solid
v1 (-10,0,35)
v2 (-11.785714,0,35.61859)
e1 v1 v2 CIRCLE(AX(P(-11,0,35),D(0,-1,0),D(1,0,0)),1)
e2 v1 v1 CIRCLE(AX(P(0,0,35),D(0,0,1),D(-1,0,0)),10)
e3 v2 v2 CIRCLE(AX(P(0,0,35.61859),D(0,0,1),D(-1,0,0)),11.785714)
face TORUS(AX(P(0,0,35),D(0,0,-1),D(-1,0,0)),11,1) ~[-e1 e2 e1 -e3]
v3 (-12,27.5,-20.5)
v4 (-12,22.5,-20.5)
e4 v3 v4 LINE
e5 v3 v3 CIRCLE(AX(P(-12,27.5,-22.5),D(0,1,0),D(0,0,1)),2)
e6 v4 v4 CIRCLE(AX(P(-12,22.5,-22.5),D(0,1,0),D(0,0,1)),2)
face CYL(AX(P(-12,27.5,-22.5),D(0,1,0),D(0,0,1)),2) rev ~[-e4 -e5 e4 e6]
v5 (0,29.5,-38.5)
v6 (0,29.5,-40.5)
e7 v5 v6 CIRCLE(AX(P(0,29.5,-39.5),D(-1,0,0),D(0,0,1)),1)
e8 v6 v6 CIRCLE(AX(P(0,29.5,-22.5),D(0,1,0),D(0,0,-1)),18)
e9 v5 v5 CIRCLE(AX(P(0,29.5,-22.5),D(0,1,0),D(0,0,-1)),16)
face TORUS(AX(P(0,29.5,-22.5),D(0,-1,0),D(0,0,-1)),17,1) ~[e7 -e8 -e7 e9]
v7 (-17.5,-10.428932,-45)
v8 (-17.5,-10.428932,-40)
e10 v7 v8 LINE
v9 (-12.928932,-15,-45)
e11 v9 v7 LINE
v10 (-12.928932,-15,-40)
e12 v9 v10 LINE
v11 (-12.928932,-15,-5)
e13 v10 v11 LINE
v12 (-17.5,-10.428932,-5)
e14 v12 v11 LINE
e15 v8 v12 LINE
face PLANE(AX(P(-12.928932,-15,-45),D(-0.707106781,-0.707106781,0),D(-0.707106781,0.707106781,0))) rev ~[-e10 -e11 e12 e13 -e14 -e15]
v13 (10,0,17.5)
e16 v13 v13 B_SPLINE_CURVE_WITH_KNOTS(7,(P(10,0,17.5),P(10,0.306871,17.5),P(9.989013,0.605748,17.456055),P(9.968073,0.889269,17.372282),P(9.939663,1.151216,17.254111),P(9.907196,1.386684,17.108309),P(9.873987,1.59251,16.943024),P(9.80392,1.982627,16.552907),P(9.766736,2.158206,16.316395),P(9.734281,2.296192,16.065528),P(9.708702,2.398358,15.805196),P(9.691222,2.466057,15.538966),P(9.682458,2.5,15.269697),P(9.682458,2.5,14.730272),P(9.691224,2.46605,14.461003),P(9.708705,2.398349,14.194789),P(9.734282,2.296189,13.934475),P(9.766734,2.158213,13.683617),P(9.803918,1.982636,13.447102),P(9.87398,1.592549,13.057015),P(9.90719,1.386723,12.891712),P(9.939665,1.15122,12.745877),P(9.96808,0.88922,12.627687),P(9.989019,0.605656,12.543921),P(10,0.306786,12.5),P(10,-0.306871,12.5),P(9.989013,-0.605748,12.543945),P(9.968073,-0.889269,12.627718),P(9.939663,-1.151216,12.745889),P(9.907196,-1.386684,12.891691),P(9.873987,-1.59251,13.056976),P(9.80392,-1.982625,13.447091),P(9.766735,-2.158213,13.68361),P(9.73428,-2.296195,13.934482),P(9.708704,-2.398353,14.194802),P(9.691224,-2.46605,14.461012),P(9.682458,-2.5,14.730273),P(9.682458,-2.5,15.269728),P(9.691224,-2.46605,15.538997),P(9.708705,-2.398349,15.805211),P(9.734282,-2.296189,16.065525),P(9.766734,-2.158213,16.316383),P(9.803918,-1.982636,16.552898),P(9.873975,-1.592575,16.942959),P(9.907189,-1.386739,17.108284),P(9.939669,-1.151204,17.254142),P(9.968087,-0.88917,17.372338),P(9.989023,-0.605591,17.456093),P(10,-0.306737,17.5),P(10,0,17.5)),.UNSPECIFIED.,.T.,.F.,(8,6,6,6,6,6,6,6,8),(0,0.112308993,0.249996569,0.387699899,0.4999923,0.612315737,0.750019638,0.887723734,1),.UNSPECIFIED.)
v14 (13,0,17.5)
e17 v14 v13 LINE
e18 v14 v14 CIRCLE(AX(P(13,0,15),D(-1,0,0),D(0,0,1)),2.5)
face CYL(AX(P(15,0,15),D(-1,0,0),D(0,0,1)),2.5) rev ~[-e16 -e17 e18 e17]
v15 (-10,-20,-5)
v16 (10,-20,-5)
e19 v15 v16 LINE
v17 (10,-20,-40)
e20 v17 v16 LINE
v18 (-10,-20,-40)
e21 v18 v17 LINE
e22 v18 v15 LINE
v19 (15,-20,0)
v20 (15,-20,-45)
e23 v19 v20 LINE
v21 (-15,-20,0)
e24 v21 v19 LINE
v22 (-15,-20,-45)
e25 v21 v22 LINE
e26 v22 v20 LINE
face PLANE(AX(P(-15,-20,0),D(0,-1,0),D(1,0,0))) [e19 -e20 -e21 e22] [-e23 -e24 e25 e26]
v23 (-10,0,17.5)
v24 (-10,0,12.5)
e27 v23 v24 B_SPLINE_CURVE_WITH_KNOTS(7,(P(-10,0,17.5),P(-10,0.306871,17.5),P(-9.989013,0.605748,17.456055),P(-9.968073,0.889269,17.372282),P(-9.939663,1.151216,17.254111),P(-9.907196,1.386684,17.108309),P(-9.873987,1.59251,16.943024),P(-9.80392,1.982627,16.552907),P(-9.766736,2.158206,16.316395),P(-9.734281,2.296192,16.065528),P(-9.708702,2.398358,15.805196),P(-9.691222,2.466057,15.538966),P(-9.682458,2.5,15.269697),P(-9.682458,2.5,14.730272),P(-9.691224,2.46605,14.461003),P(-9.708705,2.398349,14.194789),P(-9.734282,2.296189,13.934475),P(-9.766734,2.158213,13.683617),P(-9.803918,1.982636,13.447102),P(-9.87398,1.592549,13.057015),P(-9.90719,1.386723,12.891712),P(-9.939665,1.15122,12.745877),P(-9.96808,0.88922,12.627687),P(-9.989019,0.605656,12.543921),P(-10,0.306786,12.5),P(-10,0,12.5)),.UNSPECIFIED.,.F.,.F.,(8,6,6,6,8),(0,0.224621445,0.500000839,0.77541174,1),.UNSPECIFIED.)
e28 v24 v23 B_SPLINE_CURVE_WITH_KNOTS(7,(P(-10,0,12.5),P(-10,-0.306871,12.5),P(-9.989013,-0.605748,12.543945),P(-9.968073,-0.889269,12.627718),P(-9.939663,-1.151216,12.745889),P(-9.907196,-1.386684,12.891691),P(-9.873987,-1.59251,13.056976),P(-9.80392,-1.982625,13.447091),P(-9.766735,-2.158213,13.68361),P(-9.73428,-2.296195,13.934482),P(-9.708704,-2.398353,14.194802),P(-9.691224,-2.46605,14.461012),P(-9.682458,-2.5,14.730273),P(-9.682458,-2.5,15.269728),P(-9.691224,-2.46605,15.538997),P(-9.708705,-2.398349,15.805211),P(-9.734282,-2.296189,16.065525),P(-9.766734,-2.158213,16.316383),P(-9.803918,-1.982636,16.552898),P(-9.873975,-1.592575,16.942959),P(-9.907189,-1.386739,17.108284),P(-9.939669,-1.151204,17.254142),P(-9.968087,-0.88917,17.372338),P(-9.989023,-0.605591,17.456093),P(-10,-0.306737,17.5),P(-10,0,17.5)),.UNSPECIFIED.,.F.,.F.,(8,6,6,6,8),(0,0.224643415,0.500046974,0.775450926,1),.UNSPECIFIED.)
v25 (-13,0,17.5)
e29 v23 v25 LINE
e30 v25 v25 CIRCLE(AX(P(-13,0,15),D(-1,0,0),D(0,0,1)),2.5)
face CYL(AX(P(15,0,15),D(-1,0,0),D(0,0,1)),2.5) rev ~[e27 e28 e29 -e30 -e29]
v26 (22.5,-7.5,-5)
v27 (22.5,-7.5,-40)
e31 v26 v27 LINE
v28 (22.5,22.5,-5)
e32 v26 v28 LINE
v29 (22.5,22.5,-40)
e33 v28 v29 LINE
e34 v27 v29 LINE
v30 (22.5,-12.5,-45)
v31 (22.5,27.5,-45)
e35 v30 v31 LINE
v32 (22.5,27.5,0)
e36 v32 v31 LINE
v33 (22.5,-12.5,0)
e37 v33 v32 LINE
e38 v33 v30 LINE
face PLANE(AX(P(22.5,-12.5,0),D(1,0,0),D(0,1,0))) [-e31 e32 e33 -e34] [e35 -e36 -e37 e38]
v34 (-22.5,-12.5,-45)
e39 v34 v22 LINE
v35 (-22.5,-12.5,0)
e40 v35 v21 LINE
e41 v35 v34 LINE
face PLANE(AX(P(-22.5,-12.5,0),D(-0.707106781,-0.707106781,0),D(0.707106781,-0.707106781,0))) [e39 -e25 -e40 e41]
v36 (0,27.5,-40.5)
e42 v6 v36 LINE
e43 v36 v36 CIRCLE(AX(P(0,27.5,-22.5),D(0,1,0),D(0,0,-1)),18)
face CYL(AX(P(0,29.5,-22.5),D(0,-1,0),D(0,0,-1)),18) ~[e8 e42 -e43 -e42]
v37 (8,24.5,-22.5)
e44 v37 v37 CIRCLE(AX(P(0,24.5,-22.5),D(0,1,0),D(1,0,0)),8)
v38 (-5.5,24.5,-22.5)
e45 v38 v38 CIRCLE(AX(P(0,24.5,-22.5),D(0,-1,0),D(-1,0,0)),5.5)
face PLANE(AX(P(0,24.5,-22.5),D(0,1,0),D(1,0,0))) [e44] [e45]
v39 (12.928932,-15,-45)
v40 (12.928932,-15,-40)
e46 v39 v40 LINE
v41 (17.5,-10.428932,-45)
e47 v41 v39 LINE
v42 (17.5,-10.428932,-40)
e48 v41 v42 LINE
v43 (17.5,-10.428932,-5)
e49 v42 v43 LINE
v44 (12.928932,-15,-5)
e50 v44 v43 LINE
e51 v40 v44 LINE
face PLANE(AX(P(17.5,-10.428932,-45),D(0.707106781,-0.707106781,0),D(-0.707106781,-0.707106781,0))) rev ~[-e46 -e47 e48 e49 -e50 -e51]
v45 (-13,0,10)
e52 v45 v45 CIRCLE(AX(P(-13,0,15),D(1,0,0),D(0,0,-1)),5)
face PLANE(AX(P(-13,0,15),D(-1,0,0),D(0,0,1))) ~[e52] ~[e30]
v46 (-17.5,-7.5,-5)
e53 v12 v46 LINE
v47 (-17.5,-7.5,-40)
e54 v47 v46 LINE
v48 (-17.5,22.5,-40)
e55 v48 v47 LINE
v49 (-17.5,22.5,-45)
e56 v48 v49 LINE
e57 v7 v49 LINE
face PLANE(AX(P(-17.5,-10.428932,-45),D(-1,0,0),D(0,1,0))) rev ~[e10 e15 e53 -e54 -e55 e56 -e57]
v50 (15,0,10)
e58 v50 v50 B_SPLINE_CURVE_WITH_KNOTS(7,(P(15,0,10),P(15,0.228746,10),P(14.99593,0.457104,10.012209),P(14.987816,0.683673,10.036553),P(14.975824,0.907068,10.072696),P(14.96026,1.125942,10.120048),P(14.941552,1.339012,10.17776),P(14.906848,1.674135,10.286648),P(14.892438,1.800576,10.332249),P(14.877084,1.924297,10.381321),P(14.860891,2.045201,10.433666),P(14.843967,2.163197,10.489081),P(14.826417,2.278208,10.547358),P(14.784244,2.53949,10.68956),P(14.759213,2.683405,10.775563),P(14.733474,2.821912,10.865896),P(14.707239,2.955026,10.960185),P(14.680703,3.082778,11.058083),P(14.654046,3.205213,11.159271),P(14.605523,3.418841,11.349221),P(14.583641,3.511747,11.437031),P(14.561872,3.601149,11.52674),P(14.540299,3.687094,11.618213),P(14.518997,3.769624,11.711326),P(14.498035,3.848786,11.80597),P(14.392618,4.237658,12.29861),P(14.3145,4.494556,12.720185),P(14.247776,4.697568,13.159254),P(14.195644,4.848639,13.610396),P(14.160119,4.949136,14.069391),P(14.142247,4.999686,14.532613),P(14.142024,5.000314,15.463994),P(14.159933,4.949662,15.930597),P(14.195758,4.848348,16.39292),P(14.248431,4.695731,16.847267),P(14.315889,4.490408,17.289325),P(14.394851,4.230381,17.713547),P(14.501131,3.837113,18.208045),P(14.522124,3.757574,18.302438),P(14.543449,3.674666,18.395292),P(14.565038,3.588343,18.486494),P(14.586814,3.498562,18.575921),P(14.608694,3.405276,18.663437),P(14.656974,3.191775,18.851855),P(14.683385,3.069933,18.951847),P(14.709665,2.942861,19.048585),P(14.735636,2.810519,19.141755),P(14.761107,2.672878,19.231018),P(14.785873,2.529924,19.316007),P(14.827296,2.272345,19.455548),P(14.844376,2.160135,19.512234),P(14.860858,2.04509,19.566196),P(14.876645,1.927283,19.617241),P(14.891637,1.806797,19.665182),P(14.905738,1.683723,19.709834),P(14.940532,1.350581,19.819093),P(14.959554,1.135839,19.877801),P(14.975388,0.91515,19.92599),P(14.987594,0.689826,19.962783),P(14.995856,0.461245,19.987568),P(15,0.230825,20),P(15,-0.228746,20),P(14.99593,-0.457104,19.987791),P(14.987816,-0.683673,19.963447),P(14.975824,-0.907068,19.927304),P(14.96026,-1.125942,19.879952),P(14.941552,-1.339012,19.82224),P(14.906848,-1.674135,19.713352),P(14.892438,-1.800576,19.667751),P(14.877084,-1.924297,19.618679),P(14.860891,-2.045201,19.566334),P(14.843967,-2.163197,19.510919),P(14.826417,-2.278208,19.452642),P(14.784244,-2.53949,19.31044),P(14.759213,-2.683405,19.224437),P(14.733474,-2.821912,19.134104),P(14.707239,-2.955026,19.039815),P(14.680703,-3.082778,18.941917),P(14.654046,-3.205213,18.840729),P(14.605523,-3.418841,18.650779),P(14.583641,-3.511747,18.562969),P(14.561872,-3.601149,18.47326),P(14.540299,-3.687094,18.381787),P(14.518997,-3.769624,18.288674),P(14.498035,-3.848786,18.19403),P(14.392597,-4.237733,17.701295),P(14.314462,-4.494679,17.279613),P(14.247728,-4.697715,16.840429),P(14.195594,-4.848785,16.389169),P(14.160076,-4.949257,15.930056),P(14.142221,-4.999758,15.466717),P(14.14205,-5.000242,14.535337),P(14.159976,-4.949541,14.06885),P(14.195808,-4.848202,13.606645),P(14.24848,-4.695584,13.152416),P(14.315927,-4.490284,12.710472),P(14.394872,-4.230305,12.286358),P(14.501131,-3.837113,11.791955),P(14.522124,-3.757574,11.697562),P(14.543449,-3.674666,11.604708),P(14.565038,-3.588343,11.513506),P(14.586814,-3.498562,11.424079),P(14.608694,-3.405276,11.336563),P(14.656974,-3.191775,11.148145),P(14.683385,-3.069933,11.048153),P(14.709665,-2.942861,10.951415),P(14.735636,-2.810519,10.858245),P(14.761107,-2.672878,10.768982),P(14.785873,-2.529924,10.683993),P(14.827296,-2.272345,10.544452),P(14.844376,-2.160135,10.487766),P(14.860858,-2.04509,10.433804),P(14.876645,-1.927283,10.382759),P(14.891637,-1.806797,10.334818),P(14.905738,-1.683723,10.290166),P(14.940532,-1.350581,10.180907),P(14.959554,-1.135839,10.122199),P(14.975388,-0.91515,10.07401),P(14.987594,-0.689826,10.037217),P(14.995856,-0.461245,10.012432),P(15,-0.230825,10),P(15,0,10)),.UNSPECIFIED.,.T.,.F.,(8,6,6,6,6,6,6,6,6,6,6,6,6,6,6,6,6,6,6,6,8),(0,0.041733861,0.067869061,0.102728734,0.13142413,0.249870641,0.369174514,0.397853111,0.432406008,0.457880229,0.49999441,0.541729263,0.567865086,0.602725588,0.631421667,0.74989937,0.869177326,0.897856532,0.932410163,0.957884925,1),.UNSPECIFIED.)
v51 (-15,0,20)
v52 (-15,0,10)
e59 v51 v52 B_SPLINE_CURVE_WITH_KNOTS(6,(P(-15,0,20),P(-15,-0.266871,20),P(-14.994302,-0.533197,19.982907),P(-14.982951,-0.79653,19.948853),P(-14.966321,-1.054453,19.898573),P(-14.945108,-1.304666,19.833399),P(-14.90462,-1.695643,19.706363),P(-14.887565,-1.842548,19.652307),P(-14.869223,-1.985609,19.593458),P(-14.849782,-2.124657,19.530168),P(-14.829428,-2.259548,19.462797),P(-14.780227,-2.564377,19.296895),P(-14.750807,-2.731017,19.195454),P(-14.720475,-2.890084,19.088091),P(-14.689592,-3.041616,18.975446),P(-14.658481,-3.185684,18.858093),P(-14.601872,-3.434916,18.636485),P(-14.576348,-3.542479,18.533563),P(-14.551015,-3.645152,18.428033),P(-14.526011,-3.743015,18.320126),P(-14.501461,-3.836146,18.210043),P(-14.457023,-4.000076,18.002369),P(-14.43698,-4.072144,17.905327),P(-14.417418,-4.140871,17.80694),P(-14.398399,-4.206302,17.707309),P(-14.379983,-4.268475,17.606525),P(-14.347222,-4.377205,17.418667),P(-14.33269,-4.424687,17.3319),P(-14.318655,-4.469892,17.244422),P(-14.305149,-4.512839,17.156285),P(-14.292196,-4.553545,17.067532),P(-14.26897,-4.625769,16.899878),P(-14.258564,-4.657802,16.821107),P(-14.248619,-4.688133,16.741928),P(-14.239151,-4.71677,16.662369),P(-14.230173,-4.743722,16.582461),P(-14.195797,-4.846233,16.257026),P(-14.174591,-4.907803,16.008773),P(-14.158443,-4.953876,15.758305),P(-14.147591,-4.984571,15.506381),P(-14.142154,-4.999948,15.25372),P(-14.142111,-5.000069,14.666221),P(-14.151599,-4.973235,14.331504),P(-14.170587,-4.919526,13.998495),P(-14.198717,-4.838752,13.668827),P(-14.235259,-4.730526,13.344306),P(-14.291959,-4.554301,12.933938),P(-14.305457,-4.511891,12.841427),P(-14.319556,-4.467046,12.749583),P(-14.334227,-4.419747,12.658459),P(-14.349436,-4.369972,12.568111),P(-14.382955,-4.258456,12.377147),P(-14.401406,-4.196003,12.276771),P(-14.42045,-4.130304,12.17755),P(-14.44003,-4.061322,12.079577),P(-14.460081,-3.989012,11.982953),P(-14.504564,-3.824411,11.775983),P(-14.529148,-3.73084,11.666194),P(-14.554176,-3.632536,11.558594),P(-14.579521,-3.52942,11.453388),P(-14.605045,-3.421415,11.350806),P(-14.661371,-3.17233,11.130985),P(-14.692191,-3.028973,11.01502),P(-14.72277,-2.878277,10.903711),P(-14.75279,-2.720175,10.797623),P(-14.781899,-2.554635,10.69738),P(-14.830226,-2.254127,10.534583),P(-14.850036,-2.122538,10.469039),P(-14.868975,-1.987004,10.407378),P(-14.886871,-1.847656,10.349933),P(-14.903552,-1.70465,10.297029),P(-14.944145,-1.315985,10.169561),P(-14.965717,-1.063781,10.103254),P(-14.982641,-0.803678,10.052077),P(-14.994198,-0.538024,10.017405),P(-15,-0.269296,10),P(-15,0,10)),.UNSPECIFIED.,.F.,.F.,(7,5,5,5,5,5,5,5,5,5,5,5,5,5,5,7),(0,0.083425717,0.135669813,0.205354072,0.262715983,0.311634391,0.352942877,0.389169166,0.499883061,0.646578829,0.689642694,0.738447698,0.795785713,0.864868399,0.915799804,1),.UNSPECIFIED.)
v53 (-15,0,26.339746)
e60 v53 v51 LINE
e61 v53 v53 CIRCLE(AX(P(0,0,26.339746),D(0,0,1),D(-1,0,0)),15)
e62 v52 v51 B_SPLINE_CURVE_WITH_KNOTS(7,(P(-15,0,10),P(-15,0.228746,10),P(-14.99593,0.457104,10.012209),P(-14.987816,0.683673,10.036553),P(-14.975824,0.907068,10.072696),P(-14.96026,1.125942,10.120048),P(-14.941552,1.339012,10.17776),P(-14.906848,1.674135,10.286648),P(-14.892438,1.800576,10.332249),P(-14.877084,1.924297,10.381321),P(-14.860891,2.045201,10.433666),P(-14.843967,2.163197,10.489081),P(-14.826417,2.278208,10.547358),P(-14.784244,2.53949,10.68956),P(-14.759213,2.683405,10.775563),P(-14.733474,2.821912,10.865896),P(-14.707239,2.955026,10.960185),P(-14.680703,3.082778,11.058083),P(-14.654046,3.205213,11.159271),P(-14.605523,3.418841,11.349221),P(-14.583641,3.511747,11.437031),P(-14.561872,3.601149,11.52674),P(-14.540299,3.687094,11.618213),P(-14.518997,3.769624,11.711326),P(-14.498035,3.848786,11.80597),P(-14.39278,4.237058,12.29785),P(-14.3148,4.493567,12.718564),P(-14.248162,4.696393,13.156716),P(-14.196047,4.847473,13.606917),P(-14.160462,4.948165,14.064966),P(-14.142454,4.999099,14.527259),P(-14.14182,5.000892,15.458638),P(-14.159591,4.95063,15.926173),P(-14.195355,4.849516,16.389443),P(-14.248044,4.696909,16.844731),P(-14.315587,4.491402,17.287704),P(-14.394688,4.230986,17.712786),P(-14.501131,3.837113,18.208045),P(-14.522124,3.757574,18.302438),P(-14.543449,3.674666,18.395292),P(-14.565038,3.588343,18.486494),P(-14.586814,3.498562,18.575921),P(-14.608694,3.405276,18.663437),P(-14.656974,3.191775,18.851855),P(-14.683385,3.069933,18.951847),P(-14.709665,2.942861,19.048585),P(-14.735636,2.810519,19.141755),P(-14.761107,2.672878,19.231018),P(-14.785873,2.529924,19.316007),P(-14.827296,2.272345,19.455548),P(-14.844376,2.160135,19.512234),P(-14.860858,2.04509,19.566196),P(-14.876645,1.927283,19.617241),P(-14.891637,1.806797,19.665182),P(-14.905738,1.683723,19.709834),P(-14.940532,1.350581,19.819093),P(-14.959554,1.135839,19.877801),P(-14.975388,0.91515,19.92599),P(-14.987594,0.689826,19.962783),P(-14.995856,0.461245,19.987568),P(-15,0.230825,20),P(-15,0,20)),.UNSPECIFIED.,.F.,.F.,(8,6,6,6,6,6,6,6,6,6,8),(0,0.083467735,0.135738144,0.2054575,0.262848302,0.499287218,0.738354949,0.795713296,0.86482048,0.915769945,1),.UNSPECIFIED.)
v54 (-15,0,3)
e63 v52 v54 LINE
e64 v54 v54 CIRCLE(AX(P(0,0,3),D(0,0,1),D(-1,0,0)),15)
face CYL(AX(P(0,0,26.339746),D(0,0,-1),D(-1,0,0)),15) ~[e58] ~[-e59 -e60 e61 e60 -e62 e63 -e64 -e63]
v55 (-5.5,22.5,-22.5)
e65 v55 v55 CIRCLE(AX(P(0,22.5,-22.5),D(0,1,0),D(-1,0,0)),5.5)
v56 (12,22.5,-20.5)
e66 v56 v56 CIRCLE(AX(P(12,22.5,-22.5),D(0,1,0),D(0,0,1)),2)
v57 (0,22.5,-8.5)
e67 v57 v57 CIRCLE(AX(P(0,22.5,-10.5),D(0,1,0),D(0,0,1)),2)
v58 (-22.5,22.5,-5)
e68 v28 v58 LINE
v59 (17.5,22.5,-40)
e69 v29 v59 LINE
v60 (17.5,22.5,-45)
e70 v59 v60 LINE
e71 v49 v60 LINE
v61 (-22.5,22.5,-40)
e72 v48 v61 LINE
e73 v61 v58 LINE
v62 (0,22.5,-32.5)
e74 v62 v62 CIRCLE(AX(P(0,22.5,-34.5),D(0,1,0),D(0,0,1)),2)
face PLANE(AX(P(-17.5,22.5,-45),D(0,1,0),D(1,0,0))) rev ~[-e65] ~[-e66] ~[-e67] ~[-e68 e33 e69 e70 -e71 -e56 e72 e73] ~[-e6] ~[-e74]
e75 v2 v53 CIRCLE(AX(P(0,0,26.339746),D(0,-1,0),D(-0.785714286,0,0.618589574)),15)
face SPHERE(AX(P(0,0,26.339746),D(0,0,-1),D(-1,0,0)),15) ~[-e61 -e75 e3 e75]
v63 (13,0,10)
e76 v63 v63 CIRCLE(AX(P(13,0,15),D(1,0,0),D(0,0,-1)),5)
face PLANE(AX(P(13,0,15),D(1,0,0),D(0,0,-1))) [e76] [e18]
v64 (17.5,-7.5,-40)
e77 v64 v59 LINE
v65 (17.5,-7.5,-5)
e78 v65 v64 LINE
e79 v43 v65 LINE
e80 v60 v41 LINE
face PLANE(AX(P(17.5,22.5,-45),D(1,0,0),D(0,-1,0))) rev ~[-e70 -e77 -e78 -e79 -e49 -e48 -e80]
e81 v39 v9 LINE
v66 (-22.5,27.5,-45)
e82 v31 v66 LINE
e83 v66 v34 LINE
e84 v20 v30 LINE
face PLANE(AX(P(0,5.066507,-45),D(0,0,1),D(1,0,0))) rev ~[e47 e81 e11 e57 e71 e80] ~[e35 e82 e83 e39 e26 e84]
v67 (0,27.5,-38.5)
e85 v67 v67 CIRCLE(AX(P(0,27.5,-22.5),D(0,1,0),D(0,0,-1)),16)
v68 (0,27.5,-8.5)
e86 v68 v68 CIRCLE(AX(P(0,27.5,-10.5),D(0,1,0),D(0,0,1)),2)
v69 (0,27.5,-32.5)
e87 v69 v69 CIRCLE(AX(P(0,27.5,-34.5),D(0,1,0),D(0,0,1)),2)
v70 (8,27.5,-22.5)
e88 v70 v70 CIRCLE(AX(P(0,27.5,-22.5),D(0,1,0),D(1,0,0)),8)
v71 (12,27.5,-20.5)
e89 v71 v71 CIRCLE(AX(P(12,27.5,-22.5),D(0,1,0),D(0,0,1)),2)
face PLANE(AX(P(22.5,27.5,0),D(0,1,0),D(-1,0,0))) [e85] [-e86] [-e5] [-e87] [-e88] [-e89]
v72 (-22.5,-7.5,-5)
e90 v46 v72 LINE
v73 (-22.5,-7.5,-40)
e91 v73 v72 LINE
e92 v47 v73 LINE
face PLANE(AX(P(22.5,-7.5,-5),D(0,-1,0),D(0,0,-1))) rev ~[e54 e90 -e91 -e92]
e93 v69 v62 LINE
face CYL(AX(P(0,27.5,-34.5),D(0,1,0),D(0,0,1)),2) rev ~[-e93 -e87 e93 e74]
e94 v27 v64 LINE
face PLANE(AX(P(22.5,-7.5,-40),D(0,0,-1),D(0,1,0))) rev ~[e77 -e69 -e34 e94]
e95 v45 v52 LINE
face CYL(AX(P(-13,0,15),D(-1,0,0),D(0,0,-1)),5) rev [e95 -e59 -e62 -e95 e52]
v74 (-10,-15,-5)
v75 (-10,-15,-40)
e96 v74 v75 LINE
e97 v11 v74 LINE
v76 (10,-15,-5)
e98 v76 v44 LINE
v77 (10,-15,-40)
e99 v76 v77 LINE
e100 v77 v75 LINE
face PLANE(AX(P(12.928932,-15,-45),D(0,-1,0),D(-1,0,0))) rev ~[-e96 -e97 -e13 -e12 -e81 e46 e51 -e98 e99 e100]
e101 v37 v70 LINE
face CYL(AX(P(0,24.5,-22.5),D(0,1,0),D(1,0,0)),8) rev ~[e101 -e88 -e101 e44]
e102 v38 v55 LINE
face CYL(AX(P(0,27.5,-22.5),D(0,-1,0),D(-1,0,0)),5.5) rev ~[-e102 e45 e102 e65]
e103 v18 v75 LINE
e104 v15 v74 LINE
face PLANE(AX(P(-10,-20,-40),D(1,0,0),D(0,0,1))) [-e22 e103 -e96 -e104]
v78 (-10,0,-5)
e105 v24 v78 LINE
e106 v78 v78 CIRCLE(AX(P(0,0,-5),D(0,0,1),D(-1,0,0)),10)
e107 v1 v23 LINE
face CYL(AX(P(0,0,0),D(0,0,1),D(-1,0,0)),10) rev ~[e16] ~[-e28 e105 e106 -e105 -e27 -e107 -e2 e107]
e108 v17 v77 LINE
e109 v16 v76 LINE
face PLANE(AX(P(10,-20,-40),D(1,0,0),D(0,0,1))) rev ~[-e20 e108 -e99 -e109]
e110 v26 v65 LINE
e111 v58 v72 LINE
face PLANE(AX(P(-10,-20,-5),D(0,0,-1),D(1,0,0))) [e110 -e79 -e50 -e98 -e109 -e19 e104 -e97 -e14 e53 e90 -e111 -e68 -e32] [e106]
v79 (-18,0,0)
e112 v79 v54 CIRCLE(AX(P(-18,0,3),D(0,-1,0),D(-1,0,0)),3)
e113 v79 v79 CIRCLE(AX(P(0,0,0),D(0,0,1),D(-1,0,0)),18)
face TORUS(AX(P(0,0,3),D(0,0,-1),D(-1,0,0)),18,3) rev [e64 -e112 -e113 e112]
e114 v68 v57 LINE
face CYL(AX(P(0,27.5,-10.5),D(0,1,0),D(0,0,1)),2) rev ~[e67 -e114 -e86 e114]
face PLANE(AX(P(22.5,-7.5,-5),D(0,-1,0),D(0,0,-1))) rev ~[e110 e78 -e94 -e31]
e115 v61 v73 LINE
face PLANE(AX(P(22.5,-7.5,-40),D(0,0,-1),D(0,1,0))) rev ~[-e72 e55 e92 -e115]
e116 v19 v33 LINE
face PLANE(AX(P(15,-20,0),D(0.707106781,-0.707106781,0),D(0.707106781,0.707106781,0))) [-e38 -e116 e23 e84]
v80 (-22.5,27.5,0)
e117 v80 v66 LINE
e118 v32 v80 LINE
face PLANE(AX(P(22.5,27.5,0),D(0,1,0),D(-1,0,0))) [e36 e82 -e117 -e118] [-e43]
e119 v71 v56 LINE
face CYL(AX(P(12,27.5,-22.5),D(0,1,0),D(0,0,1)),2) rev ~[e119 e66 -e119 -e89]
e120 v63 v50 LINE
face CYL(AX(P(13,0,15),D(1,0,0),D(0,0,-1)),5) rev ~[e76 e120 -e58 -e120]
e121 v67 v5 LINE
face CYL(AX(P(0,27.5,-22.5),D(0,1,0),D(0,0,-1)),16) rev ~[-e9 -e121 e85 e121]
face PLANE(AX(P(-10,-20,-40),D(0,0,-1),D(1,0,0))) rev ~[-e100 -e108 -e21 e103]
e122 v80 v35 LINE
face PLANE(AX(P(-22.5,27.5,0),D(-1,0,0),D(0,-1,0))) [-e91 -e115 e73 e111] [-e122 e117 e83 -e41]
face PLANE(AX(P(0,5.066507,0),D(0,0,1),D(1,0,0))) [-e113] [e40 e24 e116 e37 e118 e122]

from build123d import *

# Parameters (mm, degrees)
BOSS_EXTRUDE2_DEPTH                      = 45
SHELL1_T                                 = 5
CUT_EXTRUDE1_REACH                       = 47
SKETCH7_W                                = 35
SKETCH7_H                                = 30
CUT_EXTRUDE2_DEPTH                       = 46
CUT_EXTRUDE5_REACH                       = 49.5
SKETCH9_W                                = 20
SKETCH9_H                                = 35
CBORE_FOR_M16_HEX_HEAD_BOLT1_D           = 11
CBORE_FOR_M16_HEX_HEAD_BOLT1_DEPTH       = 5
CBORE_FOR_M16_HEX_HEAD_BOLT1_CBORE_D     = 16
CBORE_FOR_M16_HEX_HEAD_BOLT1_CBORE_DEPTH = 3
CBORE_FOR_M16_HEX_HEAD_BOLT1_TIP         = 3.304733405
CUT_EXTRUDE6_REACH                       = 49.5
SKETCH11_R                               = 2
FILLET1_R                                = 3
CUT_EXTRUDE10_REACH                      = 47
SKETCH15_R                               = 10
CBORE_FOR_M5_HEX_HEAD_BOLT1_D            = 5
CBORE_FOR_M5_HEX_HEAD_BOLT1_CBORE_D      = 10
CBORE_FOR_M5_HEX_HEAD_BOLT1_CBORE_DEPTH  = 2


with BuildPart() as part:
    # Sketch5 → Boss-Extrude2 (new body)
    with BuildSketch(Plane.XY):
        Polygon((-15, -20), (15, -20), (22.5, -12.5), (22.5, 27.5), (-22.5, 27.5), (-22.5, -12.5), align=None)
    extrude(amount=-BOSS_EXTRUDE2_DEPTH)

    # Shell1 (no face opened: a closed hollow body)
    add(offset(amount=-SHELL1_T, mode=Mode.PRIVATE), mode=Mode.SUBTRACT)

    # Sketch6 → Cut-Extrude1 (cut, up to next)
    with BuildSketch(Plane(origin=(0, 0, -45), x_dir=(-1, 0, 0), z_dir=(0, 0, -1)), mode=Mode.PRIVATE) as cut_extrude1_sk1:
        Polygon((12.928932188, -15), (17.5, -10.428932188), (17.5, 22.5), (-17.5, 22.5), (-17.5, -10.428932188), (-12.928932188, -15), align=None)
    cut_extrude1_tool1 = extrude(cut_extrude1_sk1.sketch, amount=-CUT_EXTRUDE1_REACH, mode=Mode.PRIVATE) & part.part
    add(cut_extrude1_tool1.solids().sort_by_distance((0, 4.028675, -45))[0], mode=Mode.SUBTRACT)

    # Sketch7 → Cut-Extrude2 (cut, through all)
    with BuildSketch(Plane(origin=(22.5, 0, 0), x_dir=(0, 0, -1), z_dir=(1, 0, 0))):
        with Locations((22.5, 7.5)):
            Rectangle(SKETCH7_W, SKETCH7_H)
    extrude(amount=-CUT_EXTRUDE2_DEPTH, mode=Mode.SUBTRACT)

    # Sketch9 → Cut-Extrude5 (cut, up to next)
    with BuildSketch(Plane.XZ.offset(20), mode=Mode.PRIVATE) as cut_extrude5_sk1:
        with Locations((0, -22.5)):
            Rectangle(SKETCH9_W, SKETCH9_H)
    cut_extrude5_tool1 = extrude(cut_extrude5_sk1.sketch, amount=-CUT_EXTRUDE5_REACH, mode=Mode.PRIVATE) & part.part
    add(cut_extrude5_tool1.solids().sort_by_distance((0, -20, -22.5))[0], mode=Mode.SUBTRACT)

    # Sketch1 → Revolve1 (revolve)
    with BuildSketch(Plane(origin=(0, 0, 0), x_dir=(0, 0, -1), z_dir=(1, 0, 0)), mode=Mode.PRIVATE) as revolve1_sk:
        with BuildLine():
            Line((0, 10), (-35, 10))
            ThreePointArc((-35, 10), (-35.944911183, 10.672673165), (-35.618589574, 11.785714286))
            ThreePointArc((-35.618589574, 11.785714286), (-31.249648492, 14.173667738), (-26.339745962, 15))
            Line((-26.339745962, 15), (0, 15))
            Line((0, 15), (0, 10))
        make_face()
    revolve(revolve1_sk.sketch.rotate(Axis((0, 0, 0), (0, 0, 1)), 90), axis=Axis((0, 0, 0), (0, 0, 1)))  # turned: the seam where the file's is

    # Sketch10 → Revolve2 (revolve)
    with BuildSketch(Plane(origin=(0, 0, 0), x_dir=(0, 0, -1), z_dir=(1, 0, 0))):
        with BuildLine():
            Line((38.5, 27.5), (38.5, 29.5))
            ThreePointArc((38.5, 29.5), (39.5, 30.5), (40.5, 29.5))
            Line((40.5, 29.5), (40.5, 27.5))
            Line((40.5, 27.5), (38.5, 27.5))
        make_face()
    revolve(axis=Axis((0, 27.5, -22.5), (0, 1, 0)))

    # CBORE for M16 Hex Head Bolt1
    with Locations(Plane(origin=(0, 27.5, 0), x_dir=(1, 0, 0), z_dir=(0, 1, 0))):
        with Locations((0, 22.5)):
            CounterBoreHole(CBORE_FOR_M16_HEX_HEAD_BOLT1_D / 2, CBORE_FOR_M16_HEX_HEAD_BOLT1_CBORE_D / 2, CBORE_FOR_M16_HEX_HEAD_BOLT1_CBORE_DEPTH, depth=CBORE_FOR_M16_HEX_HEAD_BOLT1_DEPTH)
            with Locations((0, 0, -(CBORE_FOR_M16_HEX_HEAD_BOLT1_DEPTH + CBORE_FOR_M16_HEX_HEAD_BOLT1_TIP / 2))):  # 118° drill point
                Cone(0, CBORE_FOR_M16_HEX_HEAD_BOLT1_D / 2, CBORE_FOR_M16_HEX_HEAD_BOLT1_TIP, mode=Mode.SUBTRACT)

    # Sketch11 → Cut-Extrude6 (cut, up to next)
    with BuildSketch(Plane(origin=(0, 27.5, 0), x_dir=(1, 0, 0), z_dir=(0, 1, 0)), mode=Mode.PRIVATE) as cut_extrude6_sk1:
        with Locations(Location((12, 22.5, 0), (0, 0, 270))):  # turned: the seam where the file's is
            Circle(SKETCH11_R)
    cut_extrude6_tool1 = extrude(cut_extrude6_sk1.sketch, amount=-CUT_EXTRUDE6_REACH, mode=Mode.PRIVATE) & part.part
    add(cut_extrude6_tool1.solids().sort_by_distance((12, 27.5, -22.5))[0], mode=Mode.SUBTRACT)
    # Sketch11 → Cut-Extrude6 (cut, up to next)
    with BuildSketch(Plane(origin=(0, 27.5, 0), x_dir=(1, 0, 0), z_dir=(0, 1, 0)), mode=Mode.PRIVATE) as cut_extrude6_sk2:
        with Locations(Location((0, 10.5, 0), (0, 0, 270))):  # turned: the seam where the file's is
            Circle(SKETCH11_R)
    cut_extrude6_tool2 = extrude(cut_extrude6_sk2.sketch, amount=-CUT_EXTRUDE6_REACH, mode=Mode.PRIVATE) & part.part
    add(cut_extrude6_tool2.solids().sort_by_distance((0, 27.5, -10.5))[0], mode=Mode.SUBTRACT)
    # Sketch11 → Cut-Extrude6 (cut, up to next)
    with BuildSketch(Plane(origin=(0, 27.5, 0), x_dir=(1, 0, 0), z_dir=(0, 1, 0)), mode=Mode.PRIVATE) as cut_extrude6_sk3:
        with Locations(Location((-12, 22.5, 0), (0, 0, 270))):  # turned: the seam where the file's is
            Circle(SKETCH11_R)
    cut_extrude6_tool3 = extrude(cut_extrude6_sk3.sketch, amount=-CUT_EXTRUDE6_REACH, mode=Mode.PRIVATE) & part.part
    add(cut_extrude6_tool3.solids().sort_by_distance((-12, 27.5, -22.5))[0], mode=Mode.SUBTRACT)
    # Sketch11 → Cut-Extrude6 (cut, up to next)
    with BuildSketch(Plane(origin=(0, 27.5, 0), x_dir=(1, 0, 0), z_dir=(0, 1, 0)), mode=Mode.PRIVATE) as cut_extrude6_sk4:
        with Locations(Location((0, 34.5, 0), (0, 0, 270))):  # turned: the seam where the file's is
            Circle(SKETCH11_R)
    cut_extrude6_tool4 = extrude(cut_extrude6_sk4.sketch, amount=-CUT_EXTRUDE6_REACH, mode=Mode.PRIVATE) & part.part
    add(cut_extrude6_tool4.solids().sort_by_distance((0, 27.5, -34.5))[0], mode=Mode.SUBTRACT)

    # Fillet1
    fillet1_edges = [part.edges().sort_by_distance(p)[0] for p in [
        (15, 0, 0),
    ]]
    fillet(fillet1_edges, radius=FILLET1_R)

    # Sketch15 → Cut-Extrude10 (cut, up to next)
    with BuildSketch(Plane.XY, mode=Mode.PRIVATE) as cut_extrude10_sk1:
        with Locations(Location((0, 0, 0), (0, 0, 180))):  # turned: the seam where the file's is
            Circle(SKETCH15_R)
    cut_extrude10_tool1 = extrude(cut_extrude10_sk1.sketch, amount=-CUT_EXTRUDE10_REACH, mode=Mode.PRIVATE) & part.part
    add(cut_extrude10_tool1.solids().sort_by_distance((0, 0, 0))[0], mode=Mode.SUBTRACT)

    # CBORE for M5 Hex Head Bolt1 (through all)
    with Locations(Plane(origin=(15, 0, 0), x_dir=(0, 0, -1), z_dir=(1, 0, 0))):
        with Locations((-15, 0)):
            cbore_for_m5_hex_head_bolt1 = CounterBoreHole(CBORE_FOR_M5_HEX_HEAD_BOLT1_D / 2, CBORE_FOR_M5_HEX_HEAD_BOLT1_CBORE_D / 2, CBORE_FOR_M5_HEX_HEAD_BOLT1_CBORE_DEPTH)

    # Mirror1: CBORE for M5 Hex Head Bolt1 across plane
    add(cbore_for_m5_hex_head_bolt1.mirror(Plane(origin=(0, 0, 0), x_dir=(0, 0, 1), z_dir=(1, 0, 0))), mode=Mode.SUBTRACT)


solid = part.part
